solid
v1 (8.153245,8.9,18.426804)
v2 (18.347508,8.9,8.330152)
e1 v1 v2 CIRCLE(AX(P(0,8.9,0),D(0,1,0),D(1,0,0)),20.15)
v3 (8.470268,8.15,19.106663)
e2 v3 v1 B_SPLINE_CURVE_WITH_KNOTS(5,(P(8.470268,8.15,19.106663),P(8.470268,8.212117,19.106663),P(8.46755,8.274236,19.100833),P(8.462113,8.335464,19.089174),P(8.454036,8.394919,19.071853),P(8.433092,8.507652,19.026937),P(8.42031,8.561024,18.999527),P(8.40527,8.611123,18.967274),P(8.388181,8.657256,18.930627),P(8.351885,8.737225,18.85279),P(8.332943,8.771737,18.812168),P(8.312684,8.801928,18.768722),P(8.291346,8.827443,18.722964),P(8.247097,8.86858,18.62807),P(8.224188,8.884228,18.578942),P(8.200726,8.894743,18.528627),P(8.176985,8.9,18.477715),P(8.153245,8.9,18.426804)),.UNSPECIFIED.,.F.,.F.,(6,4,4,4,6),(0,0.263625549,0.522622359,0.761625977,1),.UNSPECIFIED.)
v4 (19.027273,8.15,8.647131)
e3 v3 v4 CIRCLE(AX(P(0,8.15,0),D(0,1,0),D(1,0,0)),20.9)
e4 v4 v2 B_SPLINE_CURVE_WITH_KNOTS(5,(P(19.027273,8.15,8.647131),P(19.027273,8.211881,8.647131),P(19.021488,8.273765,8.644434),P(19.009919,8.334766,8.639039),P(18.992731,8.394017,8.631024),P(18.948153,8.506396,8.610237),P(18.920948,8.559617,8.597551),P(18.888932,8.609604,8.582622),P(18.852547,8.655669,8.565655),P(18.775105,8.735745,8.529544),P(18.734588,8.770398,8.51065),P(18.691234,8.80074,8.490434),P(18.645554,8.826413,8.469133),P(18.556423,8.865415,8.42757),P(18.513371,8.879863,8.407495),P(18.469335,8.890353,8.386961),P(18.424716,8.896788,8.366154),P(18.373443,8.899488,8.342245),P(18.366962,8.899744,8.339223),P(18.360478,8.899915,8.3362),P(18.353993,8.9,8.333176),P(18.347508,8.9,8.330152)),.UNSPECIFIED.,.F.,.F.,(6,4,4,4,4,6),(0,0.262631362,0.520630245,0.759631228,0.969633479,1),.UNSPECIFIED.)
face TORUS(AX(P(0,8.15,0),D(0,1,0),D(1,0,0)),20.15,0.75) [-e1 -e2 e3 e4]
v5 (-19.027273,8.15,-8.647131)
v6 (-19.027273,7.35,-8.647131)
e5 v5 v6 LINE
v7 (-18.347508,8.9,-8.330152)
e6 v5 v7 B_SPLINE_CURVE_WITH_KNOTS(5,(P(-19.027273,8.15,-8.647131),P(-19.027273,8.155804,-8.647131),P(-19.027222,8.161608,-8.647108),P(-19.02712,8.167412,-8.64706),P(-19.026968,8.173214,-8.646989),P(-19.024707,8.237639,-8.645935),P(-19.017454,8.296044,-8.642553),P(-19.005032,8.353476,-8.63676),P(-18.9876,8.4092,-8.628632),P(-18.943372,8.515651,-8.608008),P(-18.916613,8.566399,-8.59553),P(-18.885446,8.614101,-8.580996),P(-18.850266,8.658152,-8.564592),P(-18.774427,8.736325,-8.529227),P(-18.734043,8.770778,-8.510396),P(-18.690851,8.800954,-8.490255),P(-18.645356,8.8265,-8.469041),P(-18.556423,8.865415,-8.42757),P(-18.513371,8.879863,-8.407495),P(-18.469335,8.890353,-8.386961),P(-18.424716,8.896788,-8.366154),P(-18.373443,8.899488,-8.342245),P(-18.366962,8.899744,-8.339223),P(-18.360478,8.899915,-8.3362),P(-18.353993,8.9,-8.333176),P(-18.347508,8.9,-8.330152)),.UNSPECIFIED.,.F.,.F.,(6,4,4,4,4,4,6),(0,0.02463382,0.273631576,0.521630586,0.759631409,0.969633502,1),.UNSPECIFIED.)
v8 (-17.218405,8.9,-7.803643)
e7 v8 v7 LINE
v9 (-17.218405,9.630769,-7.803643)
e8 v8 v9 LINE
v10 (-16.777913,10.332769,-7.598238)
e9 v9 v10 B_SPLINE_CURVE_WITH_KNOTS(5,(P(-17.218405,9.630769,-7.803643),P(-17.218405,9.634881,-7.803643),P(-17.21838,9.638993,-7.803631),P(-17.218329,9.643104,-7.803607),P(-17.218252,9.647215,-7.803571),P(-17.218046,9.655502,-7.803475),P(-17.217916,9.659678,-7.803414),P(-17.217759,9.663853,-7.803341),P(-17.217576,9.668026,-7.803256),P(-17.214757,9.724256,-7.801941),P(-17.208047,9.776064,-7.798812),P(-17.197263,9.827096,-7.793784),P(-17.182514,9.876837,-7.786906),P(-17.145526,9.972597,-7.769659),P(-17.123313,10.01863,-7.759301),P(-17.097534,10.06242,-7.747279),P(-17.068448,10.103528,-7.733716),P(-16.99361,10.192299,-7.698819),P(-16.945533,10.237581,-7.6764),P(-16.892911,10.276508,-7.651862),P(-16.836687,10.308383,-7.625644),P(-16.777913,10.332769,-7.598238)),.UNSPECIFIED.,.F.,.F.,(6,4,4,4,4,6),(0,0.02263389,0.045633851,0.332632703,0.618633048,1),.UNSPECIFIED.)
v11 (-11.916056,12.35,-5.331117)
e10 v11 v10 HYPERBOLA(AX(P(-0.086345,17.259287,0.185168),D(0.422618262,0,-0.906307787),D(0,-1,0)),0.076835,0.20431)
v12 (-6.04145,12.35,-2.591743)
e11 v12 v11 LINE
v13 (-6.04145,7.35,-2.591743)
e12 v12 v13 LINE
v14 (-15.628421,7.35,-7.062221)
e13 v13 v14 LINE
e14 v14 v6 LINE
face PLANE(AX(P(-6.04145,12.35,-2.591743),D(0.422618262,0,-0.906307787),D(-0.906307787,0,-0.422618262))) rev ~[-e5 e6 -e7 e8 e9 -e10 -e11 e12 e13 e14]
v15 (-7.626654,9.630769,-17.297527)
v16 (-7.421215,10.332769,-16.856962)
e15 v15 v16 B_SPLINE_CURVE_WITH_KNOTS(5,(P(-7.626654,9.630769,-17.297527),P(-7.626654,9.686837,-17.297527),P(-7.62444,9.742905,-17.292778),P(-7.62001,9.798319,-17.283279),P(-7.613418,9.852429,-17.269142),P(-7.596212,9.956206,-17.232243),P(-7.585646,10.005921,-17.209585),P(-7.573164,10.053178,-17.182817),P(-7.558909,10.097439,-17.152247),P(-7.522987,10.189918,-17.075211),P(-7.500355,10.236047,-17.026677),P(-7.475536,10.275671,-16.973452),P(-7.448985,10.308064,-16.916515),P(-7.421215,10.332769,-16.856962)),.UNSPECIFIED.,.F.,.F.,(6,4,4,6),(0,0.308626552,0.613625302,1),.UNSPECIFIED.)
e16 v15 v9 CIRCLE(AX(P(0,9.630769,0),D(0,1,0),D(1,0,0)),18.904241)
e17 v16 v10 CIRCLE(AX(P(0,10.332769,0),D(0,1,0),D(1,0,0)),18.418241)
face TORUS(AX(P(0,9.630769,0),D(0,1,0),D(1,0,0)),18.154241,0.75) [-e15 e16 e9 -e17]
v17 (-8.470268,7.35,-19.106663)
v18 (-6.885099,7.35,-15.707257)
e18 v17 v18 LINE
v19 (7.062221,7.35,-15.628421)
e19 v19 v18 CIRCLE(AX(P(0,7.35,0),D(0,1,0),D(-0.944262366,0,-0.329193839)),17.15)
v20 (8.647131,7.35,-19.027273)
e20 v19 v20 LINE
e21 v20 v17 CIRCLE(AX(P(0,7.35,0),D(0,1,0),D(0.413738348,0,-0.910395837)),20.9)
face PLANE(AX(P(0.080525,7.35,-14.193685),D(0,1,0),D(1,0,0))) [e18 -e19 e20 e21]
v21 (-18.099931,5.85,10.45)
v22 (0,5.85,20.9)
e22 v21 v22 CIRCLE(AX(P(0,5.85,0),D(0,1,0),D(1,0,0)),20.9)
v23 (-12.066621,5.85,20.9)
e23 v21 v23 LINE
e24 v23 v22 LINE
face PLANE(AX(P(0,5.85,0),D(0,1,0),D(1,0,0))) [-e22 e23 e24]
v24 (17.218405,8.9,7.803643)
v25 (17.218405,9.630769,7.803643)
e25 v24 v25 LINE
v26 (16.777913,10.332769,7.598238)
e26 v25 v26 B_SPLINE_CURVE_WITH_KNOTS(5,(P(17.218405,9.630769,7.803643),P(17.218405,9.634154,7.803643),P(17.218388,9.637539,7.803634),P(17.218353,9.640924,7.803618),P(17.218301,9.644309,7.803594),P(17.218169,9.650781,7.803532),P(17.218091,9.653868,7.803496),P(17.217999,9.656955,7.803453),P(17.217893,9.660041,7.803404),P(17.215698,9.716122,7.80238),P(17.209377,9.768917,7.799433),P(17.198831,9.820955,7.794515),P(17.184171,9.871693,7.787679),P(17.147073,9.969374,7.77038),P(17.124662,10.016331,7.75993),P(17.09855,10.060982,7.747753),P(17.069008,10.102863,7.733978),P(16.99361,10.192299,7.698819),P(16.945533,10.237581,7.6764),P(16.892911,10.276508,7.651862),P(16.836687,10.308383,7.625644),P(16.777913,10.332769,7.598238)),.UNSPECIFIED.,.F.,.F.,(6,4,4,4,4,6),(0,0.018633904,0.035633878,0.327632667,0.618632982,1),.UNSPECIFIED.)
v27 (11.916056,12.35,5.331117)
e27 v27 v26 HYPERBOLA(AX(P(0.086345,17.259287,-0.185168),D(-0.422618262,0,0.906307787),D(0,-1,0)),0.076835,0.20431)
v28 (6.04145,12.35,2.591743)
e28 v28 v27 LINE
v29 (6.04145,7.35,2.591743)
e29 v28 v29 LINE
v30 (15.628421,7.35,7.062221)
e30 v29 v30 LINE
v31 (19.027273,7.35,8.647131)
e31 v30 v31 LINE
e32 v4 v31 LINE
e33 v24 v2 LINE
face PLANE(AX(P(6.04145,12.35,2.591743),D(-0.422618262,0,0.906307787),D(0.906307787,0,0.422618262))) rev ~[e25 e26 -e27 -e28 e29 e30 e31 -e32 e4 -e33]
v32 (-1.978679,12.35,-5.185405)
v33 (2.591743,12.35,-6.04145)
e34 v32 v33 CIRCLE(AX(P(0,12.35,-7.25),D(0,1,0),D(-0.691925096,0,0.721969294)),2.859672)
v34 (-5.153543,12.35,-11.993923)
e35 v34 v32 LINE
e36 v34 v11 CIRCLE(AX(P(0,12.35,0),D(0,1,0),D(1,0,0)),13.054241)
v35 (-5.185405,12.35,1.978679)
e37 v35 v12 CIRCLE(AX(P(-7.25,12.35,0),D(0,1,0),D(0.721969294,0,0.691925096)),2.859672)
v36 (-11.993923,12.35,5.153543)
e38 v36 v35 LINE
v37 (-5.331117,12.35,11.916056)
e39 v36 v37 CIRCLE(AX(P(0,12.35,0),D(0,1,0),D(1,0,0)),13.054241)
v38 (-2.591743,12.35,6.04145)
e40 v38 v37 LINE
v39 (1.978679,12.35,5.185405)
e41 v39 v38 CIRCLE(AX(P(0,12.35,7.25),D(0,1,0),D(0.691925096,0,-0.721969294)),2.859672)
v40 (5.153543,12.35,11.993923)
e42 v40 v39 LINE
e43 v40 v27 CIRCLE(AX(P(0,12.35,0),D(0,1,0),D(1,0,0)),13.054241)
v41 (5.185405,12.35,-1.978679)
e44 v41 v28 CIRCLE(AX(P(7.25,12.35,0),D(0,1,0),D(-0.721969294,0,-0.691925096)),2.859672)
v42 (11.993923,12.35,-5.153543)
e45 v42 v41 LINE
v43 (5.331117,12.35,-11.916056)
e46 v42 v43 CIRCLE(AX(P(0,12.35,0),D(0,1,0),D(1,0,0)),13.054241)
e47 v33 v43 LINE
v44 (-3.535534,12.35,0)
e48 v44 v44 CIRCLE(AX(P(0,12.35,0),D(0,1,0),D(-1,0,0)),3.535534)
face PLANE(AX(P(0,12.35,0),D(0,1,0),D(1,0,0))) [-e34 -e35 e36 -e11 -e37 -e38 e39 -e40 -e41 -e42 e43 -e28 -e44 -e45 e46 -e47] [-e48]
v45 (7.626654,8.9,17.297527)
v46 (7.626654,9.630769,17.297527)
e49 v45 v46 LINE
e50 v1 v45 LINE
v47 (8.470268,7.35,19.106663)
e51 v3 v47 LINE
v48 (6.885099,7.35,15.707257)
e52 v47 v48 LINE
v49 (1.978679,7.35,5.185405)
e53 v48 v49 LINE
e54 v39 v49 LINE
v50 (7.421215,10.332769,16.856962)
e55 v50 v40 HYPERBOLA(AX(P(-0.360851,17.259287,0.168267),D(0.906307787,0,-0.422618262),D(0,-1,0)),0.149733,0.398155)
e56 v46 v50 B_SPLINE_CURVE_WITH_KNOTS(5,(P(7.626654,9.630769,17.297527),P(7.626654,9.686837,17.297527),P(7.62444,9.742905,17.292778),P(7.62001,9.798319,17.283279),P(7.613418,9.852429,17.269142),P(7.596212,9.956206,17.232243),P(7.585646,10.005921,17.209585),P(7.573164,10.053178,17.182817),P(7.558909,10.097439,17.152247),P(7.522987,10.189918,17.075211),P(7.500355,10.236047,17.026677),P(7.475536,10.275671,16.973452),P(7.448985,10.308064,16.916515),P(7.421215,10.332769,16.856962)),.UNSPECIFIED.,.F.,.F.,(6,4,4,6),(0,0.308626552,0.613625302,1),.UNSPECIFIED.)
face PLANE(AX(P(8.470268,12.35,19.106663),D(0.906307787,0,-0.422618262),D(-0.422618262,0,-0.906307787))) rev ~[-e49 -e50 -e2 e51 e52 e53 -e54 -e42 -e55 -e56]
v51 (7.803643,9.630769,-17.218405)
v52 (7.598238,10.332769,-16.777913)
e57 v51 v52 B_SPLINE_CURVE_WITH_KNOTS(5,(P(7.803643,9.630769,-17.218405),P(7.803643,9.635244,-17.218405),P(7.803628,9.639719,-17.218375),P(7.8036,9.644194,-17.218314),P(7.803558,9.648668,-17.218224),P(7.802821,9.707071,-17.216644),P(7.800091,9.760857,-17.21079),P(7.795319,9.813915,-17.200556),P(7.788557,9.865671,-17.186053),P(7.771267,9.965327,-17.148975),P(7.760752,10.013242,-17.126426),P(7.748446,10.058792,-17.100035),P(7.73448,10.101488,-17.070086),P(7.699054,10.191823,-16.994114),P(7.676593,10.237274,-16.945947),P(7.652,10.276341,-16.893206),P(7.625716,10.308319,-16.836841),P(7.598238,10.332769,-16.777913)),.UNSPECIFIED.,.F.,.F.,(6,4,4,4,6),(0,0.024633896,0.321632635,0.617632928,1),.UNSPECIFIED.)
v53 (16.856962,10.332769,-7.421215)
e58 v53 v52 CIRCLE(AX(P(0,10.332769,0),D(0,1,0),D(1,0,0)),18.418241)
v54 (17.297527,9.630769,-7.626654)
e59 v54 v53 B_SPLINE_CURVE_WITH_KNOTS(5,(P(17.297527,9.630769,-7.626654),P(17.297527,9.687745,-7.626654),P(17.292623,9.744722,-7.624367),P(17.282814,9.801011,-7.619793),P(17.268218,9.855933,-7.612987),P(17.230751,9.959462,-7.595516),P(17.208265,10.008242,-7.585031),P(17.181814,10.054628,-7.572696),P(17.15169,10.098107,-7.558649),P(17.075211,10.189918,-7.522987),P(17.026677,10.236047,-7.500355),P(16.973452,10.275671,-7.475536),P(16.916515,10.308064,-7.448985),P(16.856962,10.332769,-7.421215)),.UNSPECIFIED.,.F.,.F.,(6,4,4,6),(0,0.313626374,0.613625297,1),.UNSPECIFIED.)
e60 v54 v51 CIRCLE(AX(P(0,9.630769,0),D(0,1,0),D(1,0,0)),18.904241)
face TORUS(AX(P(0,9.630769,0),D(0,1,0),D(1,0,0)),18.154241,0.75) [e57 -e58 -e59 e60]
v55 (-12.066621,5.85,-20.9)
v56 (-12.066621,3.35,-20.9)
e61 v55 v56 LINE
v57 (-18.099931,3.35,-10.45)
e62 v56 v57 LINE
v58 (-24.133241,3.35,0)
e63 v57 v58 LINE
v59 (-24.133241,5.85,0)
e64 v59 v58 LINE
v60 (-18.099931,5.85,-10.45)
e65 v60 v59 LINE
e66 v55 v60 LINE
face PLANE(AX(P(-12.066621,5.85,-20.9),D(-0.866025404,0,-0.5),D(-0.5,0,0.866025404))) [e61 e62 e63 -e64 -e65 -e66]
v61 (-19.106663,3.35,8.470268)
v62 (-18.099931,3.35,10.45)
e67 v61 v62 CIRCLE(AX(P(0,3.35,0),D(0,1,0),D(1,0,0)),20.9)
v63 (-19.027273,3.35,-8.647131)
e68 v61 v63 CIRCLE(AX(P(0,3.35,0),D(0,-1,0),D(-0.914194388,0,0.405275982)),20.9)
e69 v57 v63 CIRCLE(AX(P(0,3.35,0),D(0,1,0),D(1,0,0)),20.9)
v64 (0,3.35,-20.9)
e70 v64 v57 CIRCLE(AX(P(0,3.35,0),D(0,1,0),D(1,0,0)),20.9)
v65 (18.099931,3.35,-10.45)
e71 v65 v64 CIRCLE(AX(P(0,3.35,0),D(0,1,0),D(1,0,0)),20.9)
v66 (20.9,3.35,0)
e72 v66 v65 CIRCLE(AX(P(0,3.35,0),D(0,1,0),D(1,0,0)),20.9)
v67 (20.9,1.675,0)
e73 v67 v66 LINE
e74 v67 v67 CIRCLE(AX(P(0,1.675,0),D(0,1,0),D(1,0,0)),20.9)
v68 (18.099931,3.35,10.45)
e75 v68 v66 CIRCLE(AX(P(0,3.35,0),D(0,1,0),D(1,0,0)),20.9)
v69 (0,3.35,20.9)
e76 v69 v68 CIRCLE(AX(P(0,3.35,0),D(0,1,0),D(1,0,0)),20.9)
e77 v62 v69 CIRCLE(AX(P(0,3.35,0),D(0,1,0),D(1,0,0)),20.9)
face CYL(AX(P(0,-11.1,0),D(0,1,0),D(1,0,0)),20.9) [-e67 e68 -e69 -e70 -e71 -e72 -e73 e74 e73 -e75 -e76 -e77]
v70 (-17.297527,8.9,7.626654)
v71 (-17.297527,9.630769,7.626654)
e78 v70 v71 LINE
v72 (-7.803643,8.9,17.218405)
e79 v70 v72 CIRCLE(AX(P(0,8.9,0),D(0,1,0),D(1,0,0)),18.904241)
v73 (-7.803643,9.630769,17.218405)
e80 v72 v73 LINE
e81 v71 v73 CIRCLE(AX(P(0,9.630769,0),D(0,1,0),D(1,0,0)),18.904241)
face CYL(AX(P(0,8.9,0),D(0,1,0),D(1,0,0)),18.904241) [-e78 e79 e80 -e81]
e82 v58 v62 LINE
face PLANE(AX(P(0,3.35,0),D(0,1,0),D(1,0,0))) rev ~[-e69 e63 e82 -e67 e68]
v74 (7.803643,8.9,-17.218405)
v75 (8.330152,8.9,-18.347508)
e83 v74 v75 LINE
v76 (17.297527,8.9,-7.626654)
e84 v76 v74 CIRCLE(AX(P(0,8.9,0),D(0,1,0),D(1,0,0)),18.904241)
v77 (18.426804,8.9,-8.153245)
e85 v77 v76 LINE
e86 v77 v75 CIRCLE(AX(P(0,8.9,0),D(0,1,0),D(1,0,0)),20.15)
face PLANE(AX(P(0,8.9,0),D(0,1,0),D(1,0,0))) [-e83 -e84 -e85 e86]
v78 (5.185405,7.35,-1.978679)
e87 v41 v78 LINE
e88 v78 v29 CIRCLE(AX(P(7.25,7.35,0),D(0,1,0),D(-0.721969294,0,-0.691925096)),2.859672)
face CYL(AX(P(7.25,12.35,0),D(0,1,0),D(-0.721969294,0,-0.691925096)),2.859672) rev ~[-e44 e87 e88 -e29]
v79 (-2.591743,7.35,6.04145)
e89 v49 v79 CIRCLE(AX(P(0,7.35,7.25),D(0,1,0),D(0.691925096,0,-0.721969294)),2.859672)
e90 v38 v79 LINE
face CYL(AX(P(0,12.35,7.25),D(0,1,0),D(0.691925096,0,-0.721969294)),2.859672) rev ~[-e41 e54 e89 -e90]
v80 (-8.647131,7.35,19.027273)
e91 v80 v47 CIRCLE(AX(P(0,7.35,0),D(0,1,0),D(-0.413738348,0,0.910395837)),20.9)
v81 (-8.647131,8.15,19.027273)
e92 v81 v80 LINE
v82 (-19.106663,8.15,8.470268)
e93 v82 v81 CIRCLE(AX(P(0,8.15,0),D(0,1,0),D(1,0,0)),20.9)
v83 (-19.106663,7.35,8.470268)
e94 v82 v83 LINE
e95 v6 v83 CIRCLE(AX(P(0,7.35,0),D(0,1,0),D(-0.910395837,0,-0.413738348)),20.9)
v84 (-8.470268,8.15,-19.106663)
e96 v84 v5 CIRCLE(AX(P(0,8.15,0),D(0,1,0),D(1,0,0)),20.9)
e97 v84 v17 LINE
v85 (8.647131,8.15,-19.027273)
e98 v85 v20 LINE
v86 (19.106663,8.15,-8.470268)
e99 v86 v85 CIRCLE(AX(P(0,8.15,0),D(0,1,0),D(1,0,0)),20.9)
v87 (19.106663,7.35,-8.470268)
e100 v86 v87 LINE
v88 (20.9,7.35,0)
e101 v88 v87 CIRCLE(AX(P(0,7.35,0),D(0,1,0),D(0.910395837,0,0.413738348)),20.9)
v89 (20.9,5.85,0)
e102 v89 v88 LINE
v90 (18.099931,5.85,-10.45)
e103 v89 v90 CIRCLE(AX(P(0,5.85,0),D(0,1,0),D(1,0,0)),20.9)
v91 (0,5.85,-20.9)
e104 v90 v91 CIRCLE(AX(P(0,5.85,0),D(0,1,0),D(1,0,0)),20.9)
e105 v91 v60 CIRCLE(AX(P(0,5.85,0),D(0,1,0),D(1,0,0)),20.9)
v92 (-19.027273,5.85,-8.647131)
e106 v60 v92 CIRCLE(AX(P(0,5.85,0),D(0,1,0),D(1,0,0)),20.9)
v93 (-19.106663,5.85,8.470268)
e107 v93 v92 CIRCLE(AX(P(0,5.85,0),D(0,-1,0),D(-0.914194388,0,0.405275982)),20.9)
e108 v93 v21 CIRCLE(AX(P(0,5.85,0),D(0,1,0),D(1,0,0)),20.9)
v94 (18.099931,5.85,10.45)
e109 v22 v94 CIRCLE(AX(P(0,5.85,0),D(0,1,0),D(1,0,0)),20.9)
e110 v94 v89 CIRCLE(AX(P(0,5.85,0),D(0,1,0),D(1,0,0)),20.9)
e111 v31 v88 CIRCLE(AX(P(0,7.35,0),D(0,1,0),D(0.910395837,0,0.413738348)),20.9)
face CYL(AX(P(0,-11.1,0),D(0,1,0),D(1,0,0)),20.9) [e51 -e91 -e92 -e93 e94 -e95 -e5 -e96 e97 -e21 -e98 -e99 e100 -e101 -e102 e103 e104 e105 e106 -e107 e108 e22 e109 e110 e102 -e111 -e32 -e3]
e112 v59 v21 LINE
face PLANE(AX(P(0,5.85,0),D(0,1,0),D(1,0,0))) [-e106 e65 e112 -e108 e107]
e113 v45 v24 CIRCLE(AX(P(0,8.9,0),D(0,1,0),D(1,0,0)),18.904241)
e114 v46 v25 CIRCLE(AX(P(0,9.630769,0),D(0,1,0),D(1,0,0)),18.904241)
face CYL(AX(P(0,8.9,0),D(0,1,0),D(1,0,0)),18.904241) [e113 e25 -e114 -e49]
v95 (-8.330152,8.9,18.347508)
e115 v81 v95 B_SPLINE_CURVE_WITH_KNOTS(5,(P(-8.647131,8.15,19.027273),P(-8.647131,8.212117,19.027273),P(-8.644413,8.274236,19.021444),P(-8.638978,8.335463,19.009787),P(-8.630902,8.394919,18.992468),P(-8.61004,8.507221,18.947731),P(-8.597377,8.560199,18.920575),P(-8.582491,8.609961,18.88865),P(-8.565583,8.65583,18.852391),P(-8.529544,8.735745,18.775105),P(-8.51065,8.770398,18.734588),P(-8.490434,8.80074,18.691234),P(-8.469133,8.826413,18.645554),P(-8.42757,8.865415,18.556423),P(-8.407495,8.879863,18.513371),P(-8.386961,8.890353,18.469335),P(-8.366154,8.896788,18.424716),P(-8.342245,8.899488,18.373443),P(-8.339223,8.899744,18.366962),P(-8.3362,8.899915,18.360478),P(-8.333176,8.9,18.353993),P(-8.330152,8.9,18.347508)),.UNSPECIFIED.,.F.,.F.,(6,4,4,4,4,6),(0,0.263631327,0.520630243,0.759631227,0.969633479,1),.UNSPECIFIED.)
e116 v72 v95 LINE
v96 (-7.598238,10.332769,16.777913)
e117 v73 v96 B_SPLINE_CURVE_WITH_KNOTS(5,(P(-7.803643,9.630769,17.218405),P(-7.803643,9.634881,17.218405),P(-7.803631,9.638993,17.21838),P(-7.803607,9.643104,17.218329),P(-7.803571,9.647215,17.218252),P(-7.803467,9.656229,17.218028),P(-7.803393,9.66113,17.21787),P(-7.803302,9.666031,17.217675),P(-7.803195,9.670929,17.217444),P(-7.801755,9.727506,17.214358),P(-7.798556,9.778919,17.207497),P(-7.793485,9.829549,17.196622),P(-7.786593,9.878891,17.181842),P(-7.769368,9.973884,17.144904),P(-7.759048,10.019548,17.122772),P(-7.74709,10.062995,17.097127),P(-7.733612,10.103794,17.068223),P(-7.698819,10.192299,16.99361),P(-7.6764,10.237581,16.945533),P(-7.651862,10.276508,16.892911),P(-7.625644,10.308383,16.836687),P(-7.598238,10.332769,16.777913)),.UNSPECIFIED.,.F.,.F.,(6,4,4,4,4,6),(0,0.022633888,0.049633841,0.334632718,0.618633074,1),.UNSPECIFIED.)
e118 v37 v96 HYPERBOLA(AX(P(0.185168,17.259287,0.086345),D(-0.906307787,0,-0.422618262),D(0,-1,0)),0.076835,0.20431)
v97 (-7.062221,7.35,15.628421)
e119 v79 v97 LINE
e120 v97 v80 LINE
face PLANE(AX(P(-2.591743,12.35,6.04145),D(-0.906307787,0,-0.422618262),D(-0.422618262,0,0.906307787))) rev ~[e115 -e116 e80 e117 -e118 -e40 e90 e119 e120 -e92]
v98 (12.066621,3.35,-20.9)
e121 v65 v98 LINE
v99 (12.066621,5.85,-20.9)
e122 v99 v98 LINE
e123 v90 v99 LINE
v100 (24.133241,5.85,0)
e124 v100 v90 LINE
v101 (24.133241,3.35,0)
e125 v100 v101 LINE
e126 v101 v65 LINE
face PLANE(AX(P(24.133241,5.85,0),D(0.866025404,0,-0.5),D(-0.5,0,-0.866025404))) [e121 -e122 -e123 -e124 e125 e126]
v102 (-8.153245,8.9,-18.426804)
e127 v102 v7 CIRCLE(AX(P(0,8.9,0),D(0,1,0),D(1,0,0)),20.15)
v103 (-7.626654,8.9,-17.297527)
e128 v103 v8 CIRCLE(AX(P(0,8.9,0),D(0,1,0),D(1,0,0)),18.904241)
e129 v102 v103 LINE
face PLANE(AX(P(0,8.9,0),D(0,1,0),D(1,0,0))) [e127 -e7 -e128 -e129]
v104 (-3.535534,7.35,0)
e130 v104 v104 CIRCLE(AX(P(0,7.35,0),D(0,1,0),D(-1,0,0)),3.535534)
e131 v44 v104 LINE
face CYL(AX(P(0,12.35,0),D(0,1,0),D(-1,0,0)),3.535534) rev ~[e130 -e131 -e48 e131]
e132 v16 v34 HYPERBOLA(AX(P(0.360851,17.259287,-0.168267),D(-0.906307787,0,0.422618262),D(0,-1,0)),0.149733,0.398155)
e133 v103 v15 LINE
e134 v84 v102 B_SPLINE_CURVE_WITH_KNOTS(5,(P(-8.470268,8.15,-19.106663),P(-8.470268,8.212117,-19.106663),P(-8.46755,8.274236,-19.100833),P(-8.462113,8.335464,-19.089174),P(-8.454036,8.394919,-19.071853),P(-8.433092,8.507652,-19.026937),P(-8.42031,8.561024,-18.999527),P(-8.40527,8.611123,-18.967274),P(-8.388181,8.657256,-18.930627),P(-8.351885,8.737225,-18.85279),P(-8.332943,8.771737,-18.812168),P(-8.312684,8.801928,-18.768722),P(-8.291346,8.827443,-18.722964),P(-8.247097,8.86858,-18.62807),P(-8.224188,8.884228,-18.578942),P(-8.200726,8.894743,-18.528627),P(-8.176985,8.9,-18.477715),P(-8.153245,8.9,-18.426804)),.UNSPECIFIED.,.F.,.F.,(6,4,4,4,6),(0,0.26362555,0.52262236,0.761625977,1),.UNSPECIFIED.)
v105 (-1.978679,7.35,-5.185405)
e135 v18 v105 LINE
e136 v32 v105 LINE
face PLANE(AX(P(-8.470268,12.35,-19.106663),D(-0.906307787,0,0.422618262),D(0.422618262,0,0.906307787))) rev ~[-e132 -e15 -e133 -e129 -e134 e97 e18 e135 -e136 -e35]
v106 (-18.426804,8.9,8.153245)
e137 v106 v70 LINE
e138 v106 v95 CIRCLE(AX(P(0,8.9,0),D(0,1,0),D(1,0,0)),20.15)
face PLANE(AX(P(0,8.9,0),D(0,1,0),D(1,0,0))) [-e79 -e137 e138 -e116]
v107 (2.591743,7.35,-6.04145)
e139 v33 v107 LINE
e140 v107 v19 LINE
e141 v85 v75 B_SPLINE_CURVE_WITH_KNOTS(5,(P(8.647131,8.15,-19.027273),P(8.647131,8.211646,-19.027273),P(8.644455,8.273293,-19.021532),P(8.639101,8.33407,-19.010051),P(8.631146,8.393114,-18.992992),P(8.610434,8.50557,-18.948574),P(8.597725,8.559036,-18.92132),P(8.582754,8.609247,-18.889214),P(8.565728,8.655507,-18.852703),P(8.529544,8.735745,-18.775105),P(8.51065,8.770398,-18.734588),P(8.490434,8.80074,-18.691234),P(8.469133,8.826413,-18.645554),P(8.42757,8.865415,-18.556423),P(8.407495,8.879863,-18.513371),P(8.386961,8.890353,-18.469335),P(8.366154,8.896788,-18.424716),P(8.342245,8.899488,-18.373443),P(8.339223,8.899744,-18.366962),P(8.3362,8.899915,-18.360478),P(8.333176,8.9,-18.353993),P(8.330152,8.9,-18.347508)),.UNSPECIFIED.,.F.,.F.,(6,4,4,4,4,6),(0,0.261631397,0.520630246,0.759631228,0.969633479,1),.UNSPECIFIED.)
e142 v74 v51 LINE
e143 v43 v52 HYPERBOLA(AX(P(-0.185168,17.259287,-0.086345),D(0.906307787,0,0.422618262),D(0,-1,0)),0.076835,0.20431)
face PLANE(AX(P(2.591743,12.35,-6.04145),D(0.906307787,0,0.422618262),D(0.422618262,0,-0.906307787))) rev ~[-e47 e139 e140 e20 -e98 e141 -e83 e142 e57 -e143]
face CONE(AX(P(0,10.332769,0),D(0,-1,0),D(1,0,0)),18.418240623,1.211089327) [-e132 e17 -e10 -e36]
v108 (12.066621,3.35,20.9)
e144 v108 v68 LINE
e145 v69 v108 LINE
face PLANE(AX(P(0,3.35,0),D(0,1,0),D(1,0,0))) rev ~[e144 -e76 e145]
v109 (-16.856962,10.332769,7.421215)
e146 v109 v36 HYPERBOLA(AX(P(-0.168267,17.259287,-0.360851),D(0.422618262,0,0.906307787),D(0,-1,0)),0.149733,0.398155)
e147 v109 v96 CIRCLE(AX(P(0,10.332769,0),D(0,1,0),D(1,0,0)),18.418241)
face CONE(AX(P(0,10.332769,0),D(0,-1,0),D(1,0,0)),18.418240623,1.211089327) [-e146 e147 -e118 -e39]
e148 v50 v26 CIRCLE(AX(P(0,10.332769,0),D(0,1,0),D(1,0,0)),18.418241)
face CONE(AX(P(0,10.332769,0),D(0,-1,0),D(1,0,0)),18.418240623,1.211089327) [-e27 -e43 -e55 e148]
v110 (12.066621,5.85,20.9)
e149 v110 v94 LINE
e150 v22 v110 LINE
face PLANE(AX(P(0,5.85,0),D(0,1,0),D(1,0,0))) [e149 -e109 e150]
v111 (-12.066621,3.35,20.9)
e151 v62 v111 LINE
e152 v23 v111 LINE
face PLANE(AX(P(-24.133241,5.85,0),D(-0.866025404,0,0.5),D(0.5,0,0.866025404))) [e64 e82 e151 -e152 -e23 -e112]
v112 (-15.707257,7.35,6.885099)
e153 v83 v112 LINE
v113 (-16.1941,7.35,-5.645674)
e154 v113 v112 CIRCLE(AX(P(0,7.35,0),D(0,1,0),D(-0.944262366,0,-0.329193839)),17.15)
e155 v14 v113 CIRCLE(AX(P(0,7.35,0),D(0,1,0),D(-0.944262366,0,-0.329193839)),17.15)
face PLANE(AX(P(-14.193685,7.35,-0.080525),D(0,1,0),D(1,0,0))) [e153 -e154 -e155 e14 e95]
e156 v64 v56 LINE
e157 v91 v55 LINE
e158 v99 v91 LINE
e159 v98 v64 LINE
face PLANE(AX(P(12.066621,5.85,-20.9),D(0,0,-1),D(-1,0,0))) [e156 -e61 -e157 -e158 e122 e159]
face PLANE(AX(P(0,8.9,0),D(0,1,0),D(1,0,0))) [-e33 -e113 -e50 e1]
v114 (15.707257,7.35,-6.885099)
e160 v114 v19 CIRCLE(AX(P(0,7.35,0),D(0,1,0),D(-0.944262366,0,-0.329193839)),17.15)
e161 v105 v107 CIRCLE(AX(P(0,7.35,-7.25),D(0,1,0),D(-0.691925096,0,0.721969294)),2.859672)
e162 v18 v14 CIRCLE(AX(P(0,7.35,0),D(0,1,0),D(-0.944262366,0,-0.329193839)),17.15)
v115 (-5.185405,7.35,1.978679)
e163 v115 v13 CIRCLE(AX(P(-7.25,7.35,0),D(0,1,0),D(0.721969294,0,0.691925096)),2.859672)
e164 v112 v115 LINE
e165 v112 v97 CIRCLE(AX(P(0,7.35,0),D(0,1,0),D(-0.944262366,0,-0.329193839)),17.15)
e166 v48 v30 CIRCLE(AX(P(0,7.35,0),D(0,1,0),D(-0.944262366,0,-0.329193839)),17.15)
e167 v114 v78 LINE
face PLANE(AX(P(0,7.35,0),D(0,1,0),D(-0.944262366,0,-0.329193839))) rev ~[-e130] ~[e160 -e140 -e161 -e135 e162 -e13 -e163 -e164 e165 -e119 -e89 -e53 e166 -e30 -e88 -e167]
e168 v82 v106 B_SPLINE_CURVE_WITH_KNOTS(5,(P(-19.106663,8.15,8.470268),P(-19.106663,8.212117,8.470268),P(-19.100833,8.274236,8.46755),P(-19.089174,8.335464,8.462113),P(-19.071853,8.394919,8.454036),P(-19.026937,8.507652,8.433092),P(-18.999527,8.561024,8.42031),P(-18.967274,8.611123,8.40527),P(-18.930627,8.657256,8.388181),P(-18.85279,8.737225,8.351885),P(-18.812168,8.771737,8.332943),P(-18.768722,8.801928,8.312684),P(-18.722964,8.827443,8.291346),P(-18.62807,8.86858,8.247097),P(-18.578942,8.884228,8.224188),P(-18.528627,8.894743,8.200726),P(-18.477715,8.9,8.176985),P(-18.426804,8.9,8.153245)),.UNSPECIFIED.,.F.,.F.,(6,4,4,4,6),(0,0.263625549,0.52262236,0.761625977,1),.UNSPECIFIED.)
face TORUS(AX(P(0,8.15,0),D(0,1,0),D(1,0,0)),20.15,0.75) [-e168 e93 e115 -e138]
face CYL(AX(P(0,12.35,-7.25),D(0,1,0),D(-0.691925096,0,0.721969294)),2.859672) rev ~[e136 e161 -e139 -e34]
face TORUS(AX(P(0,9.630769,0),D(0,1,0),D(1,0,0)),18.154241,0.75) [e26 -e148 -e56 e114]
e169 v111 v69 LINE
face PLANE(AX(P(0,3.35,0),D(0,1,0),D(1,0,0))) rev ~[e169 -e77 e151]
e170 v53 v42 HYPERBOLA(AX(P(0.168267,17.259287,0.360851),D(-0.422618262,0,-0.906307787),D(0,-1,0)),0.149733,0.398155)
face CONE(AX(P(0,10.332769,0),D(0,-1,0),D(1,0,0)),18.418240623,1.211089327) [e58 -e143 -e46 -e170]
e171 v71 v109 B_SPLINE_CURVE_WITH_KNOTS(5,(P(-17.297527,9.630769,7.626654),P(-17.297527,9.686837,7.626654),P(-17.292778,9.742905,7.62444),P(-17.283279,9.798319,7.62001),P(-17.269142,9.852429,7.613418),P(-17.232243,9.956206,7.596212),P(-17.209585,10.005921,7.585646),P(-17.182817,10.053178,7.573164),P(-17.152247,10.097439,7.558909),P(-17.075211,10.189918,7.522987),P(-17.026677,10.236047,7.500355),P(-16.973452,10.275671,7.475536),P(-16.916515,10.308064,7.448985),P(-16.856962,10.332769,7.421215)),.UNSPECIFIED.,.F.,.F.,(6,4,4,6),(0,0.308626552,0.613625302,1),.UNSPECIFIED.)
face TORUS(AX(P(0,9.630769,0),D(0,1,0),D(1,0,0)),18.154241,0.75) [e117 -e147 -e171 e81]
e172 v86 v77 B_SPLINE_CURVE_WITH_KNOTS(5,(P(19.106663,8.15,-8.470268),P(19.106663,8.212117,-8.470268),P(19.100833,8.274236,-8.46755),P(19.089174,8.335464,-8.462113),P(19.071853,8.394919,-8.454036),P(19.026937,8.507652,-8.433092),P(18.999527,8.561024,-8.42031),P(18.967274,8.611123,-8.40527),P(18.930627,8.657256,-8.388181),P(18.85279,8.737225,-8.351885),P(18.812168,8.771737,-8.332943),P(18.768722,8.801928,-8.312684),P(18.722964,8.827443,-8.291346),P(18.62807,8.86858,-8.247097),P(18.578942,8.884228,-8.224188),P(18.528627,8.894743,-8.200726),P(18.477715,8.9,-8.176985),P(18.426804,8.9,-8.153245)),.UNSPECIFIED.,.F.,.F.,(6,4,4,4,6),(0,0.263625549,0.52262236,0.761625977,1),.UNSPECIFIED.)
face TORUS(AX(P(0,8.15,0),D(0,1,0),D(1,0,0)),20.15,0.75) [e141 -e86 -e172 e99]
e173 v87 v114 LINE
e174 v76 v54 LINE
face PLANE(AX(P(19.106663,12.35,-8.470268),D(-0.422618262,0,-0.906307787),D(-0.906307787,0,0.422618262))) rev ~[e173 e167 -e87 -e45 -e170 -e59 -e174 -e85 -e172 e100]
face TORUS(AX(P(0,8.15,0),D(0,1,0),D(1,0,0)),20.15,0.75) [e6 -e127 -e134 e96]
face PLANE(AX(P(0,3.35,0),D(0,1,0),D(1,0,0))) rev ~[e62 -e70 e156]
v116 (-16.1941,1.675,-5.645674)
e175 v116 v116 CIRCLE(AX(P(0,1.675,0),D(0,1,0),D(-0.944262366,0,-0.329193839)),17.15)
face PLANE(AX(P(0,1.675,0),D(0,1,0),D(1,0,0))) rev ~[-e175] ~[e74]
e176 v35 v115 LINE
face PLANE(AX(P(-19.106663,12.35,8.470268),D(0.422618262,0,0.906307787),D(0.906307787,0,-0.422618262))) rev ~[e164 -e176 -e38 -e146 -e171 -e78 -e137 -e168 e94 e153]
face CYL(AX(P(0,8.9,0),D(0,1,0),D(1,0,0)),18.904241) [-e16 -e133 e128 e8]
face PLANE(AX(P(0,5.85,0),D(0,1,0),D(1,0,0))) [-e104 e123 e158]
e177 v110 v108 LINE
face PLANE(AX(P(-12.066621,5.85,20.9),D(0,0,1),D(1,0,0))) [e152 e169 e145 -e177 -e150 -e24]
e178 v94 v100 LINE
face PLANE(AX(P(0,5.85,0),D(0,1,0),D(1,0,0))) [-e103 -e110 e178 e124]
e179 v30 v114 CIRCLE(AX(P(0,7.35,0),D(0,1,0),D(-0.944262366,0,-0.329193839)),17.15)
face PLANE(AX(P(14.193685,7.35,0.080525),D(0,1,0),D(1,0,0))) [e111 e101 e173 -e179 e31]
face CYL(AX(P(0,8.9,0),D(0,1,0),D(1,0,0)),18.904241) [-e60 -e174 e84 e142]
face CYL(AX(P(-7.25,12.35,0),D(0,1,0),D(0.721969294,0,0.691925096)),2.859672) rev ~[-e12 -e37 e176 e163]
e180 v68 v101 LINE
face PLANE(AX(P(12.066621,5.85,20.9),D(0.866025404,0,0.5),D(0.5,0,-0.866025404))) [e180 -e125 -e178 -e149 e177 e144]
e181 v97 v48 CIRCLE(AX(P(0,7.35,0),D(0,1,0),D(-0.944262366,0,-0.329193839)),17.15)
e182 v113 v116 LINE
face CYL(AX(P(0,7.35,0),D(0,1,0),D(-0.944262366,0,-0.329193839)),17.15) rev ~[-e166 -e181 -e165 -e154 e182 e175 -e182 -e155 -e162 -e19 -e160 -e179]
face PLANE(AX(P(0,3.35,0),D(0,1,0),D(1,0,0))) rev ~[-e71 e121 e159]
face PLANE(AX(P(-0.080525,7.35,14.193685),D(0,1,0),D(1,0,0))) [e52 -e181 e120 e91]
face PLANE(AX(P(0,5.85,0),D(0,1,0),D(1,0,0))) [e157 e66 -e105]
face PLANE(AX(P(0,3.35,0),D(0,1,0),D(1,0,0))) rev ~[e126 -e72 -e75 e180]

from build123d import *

# Parameters (mm, degrees)
CUT_EXTRUDE1_DEPTH  = 5
CUT_EXTRUDE2_START  = -2.5
CUT_EXTRUDE2_DEPTH  = 2.5
CUT_EXTRUDE3_START  = -5
SKETCH2_3_R         = 17.15
CUT_EXTRUDE3_DEPTH  = 17.2
SKETCH2_4_R         = 3.535533906
CUT_EXTRUDE4_DEPTH  = 39.518956436
BOSS_EXTRUDE1_START = -1.5
BOSS_EXTRUDE1_DEPTH = 2.5


with BuildPart() as part:
    # Sketch1 → Revolve1 (revolve)
    with BuildSketch(Plane.XY, mode=Mode.PRIVATE) as revolve1_sk:
        with BuildLine():
            Line((0, 12.35), (0, -12.35))
            Line((0, -12.35), (-18.904240623, -12.35))
            ThreePointArc((-18.904240623, -12.35), (-19.434570709, -12.130330086), (-19.654240623, -11.6))
            Line((-19.654240623, -11.6), (-19.654240623, -11.1))
            Line((-19.654240623, -11.1), (-20.9, -11.1))
            Line((-20.9, -11.1), (-20.9, 8.15))
            ThreePointArc((-20.9, 8.15), (-20.680330086, 8.680330086), (-20.15, 8.9))
            Line((-20.15, 8.9), (-18.904240623, 8.9))
            Line((-18.904240623, 8.9), (-18.904240623, 9.630769231))
            ThreePointArc((-18.904240623, 9.630769231), (-18.770884767, 10.057676715), (-18.418240623, 10.332769231))
            Line((-18.418240623, 10.332769231), (-13.054240623, 12.35))
            Line((-13.054240623, 12.35), (0, 12.35))
        make_face()
    revolve(revolve1_sk.sketch.rotate(Axis((0, -1000, 0), (0, 1, 0)), 180), axis=Axis((0, -1000, 0), (0, 1, 0)))

    # Sketch2 → Cut-Extrude1 (cut)
    with BuildSketch(Plane(origin=(0, 12.35, 0), x_dir=(1, 0, 0), z_dir=(0, 1, 0))):
        with BuildLine():
            Line((-8.470268029, 19.1066627), (-1.978678793, 5.185404659))
            ThreePointArc((-1.978678793, 5.185404659), (0.526465099, 4.43920684), (2.591742961, 6.041450409))
            Line((2.591742961, 6.041450409), (8.647131476, 19.027272985))
            ThreePointArc((8.647131476, 19.027272985), (0.0969322, 20.899775218), (-8.470268029, 19.1066627))
        make_face()
        with BuildLine():
            Line((19.1066627, 8.470268029), (5.185404659, 1.978678793))
            ThreePointArc((5.185404659, 1.978678793), (4.43920684, -0.526465099), (6.041450409, -2.591742961))
            Line((6.041450409, -2.591742961), (19.027272985, -8.647131476))
            ThreePointArc((19.027272985, -8.647131476), (20.899775218, -0.0969322), (19.1066627, 8.470268029))
        make_face()
        with BuildLine():
            Line((8.470268029, -19.1066627), (1.978678793, -5.185404659))
            ThreePointArc((1.978678793, -5.185404659), (-0.526465099, -4.43920684), (-2.591742961, -6.041450409))
            Line((-2.591742961, -6.041450409), (-8.647131476, -19.027272985))
            ThreePointArc((-8.647131476, -19.027272985), (-0.0969322, -20.899775218), (8.470268029, -19.1066627))
        make_face()
        with BuildLine():
            Line((-19.1066627, -8.470268029), (-5.185404659, -1.978678793))
            ThreePointArc((-5.185404659, -1.978678793), (-4.43920684, 0.526465099), (-6.041450409, 2.591742961))
            Line((-6.041450409, 2.591742961), (-19.027272985, 8.647131476))
            ThreePointArc((-19.027272985, 8.647131476), (-20.899775218, 0.0969322), (-19.1066627, -8.470268029))
        make_face()
    extrude(amount=-CUT_EXTRUDE1_DEPTH, mode=Mode.SUBTRACT)

    # Sketch4 → Cut-Extrude2 (cut)
    with BuildSketch(Plane.XZ.offset(12.35).offset(CUT_EXTRUDE2_START)):
        with BuildLine():
            Line((19.750543614, 6.835643858), (6.391971098, 2.365928018))
            ThreePointArc((6.391971098, 2.365928018), (4.733487025, -0.031487028), (6.451436213, -2.386655581))
            Line((6.451436213, -2.386655581), (19.750285899, -6.836388441))
            ThreePointArc((19.750285899, -6.836388441), (20.899999996, -0.000393961), (19.750543614, 6.835643858))
        make_face()
        with BuildLine():
            Line((-6.835643858, 19.750543614), (-2.365928018, 6.391971098))
            ThreePointArc((-2.365928018, 6.391971098), (0.031487028, 4.733487025), (2.386655581, 6.451436213))
            Line((2.386655581, 6.451436213), (6.836388441, 19.750285899))
            ThreePointArc((6.836388441, 19.750285899), (0.000393961, 20.899999996), (-6.835643858, 19.750543614))
        make_face()
        with BuildLine():
            Line((6.835643858, -19.750543614), (2.365928018, -6.391971098))
            ThreePointArc((2.365928018, -6.391971098), (-0.031487028, -4.733487025), (-2.386655581, -6.451436213))
            Line((-2.386655581, -6.451436213), (-6.836388441, -19.750285899))
            ThreePointArc((-6.836388441, -19.750285899), (-0.000393961, -20.899999996), (6.835643858, -19.750543614))
        make_face()
        with BuildLine():
            Line((-19.750543614, -6.835643858), (-6.391971098, -2.365928018))
            ThreePointArc((-6.391971098, -2.365928018), (-4.733487025, 0.031487028), (-6.451436213, 2.386655581))
            Line((-6.451436213, 2.386655581), (-19.750285899, 6.836388441))
            ThreePointArc((-19.750285899, 6.836388441), (-20.899999996, 0.000393961), (-19.750543614, -6.835643858))
        make_face()
    extrude(amount=CUT_EXTRUDE2_DEPTH, mode=Mode.SUBTRACT)

    # Sketch2<3> → Cut-Extrude3 (cut)
    with BuildSketch(Plane(origin=(0, 12.35, 0), x_dir=(1, 0, 0), z_dir=(0, 1, 0)).offset(CUT_EXTRUDE3_START)):
        with Locations(Location((0, 0, 0), (0, 0, 160.780147913))):
            Circle(SKETCH2_3_R)
    extrude(amount=-CUT_EXTRUDE3_DEPTH, mode=Mode.SUBTRACT)

    # Sketch2<4> → Cut-Extrude4 (cut, through all)
    with BuildSketch(Plane(origin=(0, 12.35, 0), x_dir=(1, 0, 0), z_dir=(0, 1, 0))):
        with Locations(Location((0, 0, 0), (0, 0, 180))):
            Circle(SKETCH2_4_R)
    extrude(amount=-CUT_EXTRUDE4_DEPTH, mode=Mode.SUBTRACT)

    # Sketch5 → Boss-Extrude1 (add)
    with BuildSketch(Plane(origin=(0, 7.35, 0), x_dir=(1, 0, 0), z_dir=(0, 1, 0)).offset(BOSS_EXTRUDE1_START)):
        Polygon((12.066620626, 20.9), (-12.066620626, 20.9), (-24.133241252, 0), (-12.066620626, -20.9), (12.066620626, -20.9), (24.133241252, 0), align=None)
        with BuildLine():
            ThreePointArc((-19.1066627, -8.470268029), (-20.899775218, 0.0969322), (-19.027272985, 8.647131476))
            Line((-19.027272985, 8.647131476), (-17.078607454, 7.738453815))
            ThreePointArc((-17.078607454, 7.738453815), (3.958447312, 18.3273892), (18.75, 0))
            ThreePointArc((18.75, 0), (3.863644604, -18.347608846), (-17.157706707, -7.561454924))
            Line((-17.157706707, -7.561454924), (-19.1066627, -8.470268029))
        make_face(mode=Mode.SUBTRACT)
    extrude(amount=-BOSS_EXTRUDE1_DEPTH)

    # SurfaceCut1
    split(bisect_by=Plane(origin=(0, 1.675, 0), x_dir=(1, 0, 0), z_dir=(0, 1, 0)), keep=Keep.TOP)


solid = part.part
